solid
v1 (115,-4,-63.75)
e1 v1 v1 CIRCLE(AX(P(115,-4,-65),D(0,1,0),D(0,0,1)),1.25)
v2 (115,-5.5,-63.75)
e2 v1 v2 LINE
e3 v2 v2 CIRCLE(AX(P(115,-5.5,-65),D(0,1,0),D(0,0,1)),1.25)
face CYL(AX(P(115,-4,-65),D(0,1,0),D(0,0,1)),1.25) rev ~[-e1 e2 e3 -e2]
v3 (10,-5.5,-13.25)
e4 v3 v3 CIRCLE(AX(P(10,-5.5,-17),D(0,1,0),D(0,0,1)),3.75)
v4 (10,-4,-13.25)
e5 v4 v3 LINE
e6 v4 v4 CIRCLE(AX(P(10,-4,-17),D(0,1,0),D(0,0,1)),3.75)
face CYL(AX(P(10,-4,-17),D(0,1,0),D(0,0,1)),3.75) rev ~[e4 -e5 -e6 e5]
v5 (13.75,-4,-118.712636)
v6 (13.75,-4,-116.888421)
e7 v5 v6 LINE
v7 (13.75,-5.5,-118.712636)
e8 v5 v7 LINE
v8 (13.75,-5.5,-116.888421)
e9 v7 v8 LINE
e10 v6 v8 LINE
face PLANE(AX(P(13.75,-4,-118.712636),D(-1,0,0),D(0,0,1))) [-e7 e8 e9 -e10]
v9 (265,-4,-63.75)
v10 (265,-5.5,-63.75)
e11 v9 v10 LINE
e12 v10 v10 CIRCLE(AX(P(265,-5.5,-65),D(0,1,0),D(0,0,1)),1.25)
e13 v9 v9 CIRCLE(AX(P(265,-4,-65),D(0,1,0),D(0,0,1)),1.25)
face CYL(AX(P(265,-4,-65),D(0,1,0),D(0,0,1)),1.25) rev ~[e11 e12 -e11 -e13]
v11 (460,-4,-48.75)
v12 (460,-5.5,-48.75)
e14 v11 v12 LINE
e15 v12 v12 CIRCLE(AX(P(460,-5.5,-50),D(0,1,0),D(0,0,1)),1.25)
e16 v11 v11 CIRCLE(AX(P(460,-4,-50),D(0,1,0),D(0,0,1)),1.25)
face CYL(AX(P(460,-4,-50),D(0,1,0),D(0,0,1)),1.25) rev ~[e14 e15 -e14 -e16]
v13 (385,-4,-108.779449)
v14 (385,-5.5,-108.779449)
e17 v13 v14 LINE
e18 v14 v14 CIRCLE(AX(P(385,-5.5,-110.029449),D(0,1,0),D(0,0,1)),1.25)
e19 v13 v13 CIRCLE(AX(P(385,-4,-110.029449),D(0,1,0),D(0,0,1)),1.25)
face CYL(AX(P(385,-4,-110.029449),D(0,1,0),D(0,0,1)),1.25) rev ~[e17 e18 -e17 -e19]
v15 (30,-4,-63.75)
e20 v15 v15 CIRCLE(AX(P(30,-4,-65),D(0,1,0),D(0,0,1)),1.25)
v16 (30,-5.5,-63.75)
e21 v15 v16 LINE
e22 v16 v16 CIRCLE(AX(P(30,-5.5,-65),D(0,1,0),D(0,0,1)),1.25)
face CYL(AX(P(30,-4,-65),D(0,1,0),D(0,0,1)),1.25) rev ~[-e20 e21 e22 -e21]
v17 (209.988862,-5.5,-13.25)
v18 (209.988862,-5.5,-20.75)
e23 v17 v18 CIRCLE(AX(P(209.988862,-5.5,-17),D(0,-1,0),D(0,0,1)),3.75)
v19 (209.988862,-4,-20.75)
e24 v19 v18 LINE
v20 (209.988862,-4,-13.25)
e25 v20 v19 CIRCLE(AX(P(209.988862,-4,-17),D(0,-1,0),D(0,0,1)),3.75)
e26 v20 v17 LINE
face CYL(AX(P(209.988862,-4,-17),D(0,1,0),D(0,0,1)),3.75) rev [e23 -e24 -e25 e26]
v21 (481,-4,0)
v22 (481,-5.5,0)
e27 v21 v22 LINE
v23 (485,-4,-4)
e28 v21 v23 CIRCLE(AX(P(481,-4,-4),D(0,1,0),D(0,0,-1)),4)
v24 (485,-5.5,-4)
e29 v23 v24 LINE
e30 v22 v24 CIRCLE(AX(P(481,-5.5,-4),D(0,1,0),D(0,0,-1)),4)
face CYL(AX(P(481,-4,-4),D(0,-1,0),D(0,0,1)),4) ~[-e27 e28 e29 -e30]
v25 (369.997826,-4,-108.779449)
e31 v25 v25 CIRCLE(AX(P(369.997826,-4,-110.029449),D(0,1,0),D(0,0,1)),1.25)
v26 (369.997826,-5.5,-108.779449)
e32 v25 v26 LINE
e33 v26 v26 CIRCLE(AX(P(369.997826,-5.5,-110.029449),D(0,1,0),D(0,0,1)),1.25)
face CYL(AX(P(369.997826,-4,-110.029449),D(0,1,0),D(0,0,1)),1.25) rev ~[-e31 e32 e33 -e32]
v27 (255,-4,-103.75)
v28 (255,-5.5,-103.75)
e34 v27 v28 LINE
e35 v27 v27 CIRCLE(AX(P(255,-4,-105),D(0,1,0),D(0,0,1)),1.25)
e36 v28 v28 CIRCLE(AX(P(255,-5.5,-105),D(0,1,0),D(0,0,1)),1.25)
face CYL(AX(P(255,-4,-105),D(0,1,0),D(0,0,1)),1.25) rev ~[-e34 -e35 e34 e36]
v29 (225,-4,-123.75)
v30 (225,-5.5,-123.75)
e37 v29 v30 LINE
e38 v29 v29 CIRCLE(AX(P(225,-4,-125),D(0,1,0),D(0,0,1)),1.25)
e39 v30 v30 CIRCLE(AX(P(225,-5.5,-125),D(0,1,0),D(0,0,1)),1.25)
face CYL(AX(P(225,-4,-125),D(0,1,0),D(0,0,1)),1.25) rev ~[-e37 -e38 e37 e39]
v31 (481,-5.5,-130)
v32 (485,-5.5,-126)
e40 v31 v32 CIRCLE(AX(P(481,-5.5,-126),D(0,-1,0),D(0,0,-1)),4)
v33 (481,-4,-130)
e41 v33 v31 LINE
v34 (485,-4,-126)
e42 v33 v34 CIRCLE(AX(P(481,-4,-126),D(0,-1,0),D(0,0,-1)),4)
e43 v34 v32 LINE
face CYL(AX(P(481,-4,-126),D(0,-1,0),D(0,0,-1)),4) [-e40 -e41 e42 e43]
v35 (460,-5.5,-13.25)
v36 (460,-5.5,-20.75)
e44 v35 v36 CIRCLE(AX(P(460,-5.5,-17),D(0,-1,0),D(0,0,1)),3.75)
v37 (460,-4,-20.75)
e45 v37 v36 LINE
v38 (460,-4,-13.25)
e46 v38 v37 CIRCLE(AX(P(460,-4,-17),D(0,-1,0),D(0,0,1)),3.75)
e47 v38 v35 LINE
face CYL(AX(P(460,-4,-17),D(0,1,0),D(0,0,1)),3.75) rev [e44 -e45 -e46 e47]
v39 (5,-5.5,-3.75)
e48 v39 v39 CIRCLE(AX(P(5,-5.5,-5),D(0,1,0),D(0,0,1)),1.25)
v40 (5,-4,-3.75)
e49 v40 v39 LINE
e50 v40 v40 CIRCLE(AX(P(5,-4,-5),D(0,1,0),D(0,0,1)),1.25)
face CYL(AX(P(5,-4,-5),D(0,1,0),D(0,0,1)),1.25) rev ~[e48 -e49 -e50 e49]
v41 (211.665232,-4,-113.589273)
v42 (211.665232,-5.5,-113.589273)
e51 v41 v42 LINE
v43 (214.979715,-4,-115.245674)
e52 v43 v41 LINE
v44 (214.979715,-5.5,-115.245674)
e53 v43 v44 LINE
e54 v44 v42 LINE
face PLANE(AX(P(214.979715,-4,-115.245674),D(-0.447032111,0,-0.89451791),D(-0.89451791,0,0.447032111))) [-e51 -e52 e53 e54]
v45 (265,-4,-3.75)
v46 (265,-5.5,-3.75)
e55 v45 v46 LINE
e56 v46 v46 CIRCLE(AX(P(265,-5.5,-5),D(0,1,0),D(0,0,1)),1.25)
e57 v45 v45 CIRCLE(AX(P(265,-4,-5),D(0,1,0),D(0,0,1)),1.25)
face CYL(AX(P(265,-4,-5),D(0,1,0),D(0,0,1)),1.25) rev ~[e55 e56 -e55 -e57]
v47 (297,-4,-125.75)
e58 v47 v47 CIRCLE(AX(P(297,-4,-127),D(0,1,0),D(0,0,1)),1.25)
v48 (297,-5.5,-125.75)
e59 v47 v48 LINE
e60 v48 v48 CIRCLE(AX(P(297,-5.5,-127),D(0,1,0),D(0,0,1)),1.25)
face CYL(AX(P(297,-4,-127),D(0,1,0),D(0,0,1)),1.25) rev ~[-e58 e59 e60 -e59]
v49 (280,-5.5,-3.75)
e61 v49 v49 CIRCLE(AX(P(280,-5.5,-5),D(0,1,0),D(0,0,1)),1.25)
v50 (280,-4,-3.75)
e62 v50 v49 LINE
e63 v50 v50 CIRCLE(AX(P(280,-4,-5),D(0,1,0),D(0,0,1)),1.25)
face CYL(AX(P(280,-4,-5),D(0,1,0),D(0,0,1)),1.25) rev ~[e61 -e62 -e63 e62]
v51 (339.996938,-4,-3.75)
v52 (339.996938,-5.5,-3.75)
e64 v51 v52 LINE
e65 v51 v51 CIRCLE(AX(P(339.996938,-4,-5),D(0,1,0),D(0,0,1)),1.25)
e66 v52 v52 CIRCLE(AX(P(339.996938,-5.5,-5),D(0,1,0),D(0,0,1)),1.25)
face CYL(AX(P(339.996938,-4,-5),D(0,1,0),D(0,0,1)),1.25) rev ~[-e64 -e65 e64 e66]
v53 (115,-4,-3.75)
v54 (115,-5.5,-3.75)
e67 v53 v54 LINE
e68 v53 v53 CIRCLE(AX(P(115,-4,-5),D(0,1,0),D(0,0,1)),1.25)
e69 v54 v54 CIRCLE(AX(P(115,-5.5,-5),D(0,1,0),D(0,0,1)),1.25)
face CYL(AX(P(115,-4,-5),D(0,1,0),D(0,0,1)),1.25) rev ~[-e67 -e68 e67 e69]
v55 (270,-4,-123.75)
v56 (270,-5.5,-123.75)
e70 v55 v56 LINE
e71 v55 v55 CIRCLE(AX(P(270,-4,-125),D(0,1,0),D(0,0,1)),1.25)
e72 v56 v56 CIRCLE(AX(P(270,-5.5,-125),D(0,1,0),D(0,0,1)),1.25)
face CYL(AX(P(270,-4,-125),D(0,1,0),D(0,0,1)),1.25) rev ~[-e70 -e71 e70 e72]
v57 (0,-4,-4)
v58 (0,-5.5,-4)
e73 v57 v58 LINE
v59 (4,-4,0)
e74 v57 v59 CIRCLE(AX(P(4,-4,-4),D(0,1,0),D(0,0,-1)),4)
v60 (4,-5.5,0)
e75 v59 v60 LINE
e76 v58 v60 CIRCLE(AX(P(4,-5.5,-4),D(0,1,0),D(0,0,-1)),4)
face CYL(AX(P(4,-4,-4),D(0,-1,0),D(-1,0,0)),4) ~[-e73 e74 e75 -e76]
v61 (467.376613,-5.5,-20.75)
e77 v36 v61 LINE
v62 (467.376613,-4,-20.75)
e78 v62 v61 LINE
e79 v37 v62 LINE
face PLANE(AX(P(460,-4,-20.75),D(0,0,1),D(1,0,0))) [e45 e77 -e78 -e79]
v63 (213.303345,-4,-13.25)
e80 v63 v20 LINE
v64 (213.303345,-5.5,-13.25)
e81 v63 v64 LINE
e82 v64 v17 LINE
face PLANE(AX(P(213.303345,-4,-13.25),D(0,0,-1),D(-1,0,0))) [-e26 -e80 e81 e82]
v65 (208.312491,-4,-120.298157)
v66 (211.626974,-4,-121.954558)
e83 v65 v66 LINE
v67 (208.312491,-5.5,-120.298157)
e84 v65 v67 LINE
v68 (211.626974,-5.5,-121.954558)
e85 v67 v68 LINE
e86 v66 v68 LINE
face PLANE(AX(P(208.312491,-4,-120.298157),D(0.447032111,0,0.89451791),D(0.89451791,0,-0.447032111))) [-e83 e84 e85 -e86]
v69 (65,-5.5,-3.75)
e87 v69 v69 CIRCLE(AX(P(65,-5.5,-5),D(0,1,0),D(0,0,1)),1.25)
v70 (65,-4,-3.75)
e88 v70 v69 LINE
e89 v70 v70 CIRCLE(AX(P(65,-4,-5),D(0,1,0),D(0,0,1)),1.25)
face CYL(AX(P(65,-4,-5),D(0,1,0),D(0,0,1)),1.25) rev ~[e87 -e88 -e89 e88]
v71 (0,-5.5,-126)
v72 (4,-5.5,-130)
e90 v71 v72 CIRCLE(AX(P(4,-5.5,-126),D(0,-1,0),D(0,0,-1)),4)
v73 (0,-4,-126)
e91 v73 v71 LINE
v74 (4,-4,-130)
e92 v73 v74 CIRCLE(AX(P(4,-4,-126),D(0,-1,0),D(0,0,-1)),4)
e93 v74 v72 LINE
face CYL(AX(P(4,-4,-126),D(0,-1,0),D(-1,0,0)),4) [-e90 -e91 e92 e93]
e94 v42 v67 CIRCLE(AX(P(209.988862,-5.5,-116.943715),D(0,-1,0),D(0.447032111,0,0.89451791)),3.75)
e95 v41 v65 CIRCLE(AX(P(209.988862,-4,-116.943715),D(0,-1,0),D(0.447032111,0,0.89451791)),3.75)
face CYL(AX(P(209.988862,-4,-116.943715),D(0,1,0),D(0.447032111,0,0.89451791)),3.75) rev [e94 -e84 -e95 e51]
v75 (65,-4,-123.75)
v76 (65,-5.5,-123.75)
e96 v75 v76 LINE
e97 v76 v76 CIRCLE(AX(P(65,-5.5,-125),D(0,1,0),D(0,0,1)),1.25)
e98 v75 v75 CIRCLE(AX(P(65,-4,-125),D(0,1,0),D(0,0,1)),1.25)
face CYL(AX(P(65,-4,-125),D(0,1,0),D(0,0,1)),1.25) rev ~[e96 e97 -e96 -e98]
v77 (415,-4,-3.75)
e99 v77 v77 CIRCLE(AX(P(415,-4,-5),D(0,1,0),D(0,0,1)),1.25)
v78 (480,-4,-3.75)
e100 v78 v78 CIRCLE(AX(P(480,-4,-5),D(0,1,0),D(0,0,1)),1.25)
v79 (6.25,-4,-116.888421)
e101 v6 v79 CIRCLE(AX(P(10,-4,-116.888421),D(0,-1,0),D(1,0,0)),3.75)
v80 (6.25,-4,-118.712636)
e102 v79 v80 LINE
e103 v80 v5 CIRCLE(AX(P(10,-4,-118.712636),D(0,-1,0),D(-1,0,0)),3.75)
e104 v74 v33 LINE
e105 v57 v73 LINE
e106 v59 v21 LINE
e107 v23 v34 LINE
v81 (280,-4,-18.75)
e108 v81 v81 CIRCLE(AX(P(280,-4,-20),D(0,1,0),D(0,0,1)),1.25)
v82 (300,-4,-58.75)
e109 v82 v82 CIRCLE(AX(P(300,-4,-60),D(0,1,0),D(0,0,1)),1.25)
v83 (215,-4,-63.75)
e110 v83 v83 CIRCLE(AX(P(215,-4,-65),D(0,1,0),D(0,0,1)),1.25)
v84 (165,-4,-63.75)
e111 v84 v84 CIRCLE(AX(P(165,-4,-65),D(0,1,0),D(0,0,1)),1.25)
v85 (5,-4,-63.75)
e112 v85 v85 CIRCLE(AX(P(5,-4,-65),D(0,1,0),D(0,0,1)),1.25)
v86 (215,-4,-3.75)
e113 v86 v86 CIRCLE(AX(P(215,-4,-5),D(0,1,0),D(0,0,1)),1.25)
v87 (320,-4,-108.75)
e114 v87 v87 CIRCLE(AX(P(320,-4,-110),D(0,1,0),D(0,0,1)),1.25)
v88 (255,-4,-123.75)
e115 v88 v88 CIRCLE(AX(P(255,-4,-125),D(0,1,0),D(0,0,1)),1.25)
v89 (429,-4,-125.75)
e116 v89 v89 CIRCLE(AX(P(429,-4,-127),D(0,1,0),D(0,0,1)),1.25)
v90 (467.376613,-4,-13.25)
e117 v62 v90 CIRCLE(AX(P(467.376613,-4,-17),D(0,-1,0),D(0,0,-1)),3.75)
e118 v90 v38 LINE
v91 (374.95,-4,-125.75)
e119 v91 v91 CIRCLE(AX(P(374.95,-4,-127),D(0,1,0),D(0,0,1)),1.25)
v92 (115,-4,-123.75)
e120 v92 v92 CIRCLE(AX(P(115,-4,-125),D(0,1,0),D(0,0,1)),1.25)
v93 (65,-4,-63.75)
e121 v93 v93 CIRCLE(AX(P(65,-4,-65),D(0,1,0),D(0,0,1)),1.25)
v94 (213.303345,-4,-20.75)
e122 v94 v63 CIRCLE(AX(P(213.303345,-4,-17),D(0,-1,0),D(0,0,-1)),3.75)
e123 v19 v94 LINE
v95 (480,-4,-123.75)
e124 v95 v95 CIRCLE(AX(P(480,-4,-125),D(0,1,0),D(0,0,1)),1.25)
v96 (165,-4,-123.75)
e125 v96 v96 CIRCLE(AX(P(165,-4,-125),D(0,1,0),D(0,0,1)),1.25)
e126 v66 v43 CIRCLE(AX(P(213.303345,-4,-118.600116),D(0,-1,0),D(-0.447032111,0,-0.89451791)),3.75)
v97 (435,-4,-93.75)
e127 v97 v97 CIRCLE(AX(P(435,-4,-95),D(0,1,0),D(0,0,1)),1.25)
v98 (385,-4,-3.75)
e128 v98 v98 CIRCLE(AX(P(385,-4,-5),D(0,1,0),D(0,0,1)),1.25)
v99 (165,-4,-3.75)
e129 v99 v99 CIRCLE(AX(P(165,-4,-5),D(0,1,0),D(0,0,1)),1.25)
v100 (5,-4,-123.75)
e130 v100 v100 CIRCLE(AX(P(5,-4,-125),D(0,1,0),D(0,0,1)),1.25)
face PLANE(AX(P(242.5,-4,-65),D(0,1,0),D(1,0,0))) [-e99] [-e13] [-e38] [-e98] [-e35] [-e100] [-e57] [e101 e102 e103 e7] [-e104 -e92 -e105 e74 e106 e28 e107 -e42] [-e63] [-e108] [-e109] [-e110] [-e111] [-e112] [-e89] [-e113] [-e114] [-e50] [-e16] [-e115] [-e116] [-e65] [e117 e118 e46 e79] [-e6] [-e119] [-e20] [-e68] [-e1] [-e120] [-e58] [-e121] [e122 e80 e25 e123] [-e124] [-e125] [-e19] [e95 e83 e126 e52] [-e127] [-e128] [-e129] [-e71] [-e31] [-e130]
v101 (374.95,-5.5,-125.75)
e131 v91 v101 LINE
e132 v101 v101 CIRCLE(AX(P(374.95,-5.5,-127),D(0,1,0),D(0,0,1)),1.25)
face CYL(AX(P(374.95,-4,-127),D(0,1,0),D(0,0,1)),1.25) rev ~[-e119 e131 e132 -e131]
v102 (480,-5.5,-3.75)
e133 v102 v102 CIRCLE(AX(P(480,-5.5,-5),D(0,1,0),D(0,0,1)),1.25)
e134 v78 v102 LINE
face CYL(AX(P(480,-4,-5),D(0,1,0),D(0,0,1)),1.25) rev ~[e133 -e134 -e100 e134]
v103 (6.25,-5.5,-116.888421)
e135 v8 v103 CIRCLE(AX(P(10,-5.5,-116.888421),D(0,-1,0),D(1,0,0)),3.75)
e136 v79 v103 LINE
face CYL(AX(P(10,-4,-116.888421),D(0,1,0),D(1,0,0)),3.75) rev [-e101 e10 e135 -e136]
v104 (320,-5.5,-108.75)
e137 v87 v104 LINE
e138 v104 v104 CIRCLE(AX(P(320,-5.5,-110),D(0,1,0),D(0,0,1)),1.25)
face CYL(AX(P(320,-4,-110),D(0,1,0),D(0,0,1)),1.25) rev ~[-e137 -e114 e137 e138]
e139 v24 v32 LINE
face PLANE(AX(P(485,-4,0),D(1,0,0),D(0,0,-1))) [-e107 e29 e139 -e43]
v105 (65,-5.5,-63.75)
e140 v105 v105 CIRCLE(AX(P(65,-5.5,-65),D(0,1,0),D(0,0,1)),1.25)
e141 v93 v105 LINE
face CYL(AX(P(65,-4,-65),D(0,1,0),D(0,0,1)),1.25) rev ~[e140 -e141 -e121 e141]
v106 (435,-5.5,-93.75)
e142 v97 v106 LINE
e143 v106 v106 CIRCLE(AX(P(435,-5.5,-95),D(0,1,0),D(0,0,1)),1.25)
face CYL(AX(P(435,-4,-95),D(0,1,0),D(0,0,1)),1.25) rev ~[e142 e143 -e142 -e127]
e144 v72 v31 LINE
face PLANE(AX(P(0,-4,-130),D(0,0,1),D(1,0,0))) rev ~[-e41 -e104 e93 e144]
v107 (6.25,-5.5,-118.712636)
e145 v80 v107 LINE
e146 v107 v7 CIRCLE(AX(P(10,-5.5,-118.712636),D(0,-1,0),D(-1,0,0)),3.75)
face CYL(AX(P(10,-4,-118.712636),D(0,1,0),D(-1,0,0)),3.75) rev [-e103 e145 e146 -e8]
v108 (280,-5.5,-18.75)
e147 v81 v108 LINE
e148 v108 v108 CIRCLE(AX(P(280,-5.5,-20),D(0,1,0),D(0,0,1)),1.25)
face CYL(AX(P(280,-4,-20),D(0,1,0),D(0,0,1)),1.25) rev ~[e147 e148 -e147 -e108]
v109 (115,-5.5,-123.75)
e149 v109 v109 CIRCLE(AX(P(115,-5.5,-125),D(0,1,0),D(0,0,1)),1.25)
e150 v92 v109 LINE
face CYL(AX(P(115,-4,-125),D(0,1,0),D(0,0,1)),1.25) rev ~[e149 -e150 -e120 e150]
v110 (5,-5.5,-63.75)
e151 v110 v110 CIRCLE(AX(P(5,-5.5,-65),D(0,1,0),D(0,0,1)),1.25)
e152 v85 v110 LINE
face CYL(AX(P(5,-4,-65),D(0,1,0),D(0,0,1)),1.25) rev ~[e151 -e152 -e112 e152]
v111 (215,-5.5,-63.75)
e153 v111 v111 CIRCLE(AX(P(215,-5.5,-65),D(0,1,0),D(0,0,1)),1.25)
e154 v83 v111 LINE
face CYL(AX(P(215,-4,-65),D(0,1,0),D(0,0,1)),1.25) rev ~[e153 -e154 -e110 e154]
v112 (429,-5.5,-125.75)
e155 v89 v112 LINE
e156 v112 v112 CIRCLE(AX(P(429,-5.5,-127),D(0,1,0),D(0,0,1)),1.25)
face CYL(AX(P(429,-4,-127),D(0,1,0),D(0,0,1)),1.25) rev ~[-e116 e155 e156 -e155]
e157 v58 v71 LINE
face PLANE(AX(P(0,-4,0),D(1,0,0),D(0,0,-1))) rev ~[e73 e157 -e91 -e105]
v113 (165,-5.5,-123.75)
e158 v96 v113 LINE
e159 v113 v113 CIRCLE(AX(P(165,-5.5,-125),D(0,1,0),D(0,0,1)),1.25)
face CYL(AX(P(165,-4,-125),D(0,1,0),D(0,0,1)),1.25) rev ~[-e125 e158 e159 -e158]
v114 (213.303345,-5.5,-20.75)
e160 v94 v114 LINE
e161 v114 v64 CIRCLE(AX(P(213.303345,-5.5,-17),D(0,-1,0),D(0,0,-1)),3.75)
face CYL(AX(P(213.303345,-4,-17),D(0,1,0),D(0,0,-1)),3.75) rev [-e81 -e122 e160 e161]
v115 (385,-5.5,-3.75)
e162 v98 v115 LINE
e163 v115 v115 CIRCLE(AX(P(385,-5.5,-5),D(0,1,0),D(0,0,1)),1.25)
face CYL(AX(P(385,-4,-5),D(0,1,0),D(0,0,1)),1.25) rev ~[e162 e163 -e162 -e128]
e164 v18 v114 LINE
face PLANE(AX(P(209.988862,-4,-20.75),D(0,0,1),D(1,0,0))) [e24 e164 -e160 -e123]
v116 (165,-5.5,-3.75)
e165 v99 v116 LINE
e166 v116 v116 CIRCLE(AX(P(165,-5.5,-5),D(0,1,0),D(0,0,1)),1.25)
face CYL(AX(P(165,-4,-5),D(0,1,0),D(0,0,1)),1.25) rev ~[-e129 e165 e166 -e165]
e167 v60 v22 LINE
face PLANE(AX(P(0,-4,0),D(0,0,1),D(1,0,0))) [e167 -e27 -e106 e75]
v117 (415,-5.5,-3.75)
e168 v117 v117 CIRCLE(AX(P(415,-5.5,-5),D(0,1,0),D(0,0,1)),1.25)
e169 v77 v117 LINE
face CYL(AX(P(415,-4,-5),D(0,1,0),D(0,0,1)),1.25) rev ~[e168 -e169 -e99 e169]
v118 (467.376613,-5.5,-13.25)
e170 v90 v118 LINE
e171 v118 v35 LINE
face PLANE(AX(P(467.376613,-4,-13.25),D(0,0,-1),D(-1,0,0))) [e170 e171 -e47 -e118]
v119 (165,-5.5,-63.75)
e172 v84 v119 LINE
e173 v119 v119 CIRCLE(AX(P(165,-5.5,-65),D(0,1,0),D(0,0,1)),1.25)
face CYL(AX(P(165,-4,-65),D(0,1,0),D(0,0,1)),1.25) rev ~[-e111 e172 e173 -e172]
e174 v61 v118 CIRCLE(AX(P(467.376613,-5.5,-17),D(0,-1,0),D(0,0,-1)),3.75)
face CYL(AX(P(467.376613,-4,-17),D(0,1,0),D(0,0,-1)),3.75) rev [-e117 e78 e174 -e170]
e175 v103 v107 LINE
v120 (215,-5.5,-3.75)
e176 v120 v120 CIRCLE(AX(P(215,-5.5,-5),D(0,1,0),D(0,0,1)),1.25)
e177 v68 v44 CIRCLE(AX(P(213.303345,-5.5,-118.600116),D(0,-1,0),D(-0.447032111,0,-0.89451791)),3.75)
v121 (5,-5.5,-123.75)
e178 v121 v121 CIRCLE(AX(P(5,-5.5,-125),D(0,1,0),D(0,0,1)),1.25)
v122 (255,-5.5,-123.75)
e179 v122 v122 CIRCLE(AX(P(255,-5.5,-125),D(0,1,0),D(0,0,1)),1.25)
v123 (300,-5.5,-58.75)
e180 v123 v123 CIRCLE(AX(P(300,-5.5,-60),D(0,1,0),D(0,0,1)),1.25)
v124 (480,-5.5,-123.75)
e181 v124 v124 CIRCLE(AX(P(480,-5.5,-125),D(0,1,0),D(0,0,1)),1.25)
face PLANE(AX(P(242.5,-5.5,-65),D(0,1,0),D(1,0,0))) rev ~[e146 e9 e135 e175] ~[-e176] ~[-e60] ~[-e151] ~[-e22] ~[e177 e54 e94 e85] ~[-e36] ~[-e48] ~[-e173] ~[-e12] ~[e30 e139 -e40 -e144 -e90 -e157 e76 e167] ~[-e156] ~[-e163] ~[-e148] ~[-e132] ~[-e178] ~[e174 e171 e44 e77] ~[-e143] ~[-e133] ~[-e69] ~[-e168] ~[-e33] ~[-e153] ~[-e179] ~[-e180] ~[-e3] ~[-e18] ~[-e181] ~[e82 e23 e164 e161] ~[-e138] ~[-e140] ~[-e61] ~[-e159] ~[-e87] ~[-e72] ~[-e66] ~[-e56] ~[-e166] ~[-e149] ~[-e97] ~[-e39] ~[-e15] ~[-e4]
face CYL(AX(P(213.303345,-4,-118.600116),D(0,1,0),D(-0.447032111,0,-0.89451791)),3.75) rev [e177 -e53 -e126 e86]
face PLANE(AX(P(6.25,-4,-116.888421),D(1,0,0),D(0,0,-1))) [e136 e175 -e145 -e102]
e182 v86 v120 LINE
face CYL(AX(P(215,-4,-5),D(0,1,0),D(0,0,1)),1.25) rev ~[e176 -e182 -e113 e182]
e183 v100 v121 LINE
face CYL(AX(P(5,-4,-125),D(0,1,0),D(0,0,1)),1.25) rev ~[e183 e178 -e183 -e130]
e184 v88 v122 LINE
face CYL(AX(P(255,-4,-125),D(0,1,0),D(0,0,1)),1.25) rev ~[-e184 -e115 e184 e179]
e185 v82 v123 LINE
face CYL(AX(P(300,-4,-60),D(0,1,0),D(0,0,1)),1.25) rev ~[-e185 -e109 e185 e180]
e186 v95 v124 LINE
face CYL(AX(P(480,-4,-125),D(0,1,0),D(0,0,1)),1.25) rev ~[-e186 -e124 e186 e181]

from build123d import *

# Parameters (mm, degrees)
BOSS_EXTRUDE1_START = -4
SKETCH1_W           = 485
SKETCH1_H           = 130
SKETCH1_R           = 1.25
SKETCH1_R_2         = 3.75
BOSS_EXTRUDE1_DEPTH = 1.5
FILLET1_R           = 4


with BuildPart() as part:
    # Sketch1 → Boss-Extrude1 (new body)
    with BuildSketch(Plane(origin=(0, 0, 0), x_dir=(1, 0, 0), z_dir=(0, 1, 0)).offset(BOSS_EXTRUDE1_START)):
        with Locations((242.5, 65)):
            Rectangle(SKETCH1_W, SKETCH1_H)
        with Locations(Location((5, 125, 0), (0, 0, 270))):
            Circle(SKETCH1_R, mode=Mode.SUBTRACT)
        with Locations(Location((65, 125, 0), (0, 0, 270))):
            Circle(SKETCH1_R, mode=Mode.SUBTRACT)
        with Locations(Location((5, 65, 0), (0, 0, 270))):
            Circle(SKETCH1_R, mode=Mode.SUBTRACT)
        with Locations(Location((30, 65, 0), (0, 0, 270))):
            Circle(SKETCH1_R, mode=Mode.SUBTRACT)
        with Locations(Location((65, 65, 0), (0, 0, 270))):
            Circle(SKETCH1_R, mode=Mode.SUBTRACT)
        with Locations(Location((115, 125, 0), (0, 0, 270))):
            Circle(SKETCH1_R, mode=Mode.SUBTRACT)
        with Locations(Location((115, 65, 0), (0, 0, 270))):
            Circle(SKETCH1_R, mode=Mode.SUBTRACT)
        with Locations(Location((5, 5, 0), (0, 0, 270))):
            Circle(SKETCH1_R, mode=Mode.SUBTRACT)
        with Locations(Location((65, 5, 0), (0, 0, 270))):
            Circle(SKETCH1_R, mode=Mode.SUBTRACT)
        with Locations(Location((115, 5, 0), (0, 0, 270))):
            Circle(SKETCH1_R, mode=Mode.SUBTRACT)
        with Locations(Location((165, 5, 0), (0, 0, 270))):
            Circle(SKETCH1_R, mode=Mode.SUBTRACT)
        with Locations(Location((215, 5, 0), (0, 0, 270))):
            Circle(SKETCH1_R, mode=Mode.SUBTRACT)
        with Locations(Location((265, 5, 0), (0, 0, 270))):
            Circle(SKETCH1_R, mode=Mode.SUBTRACT)
        with Locations(Location((280, 5, 0), (0, 0, 270))):
            Circle(SKETCH1_R, mode=Mode.SUBTRACT)
        with Locations(Location((280, 20, 0), (0, 0, 270))):
            Circle(SKETCH1_R, mode=Mode.SUBTRACT)
        with Locations(Location((415, 5, 0), (0, 0, 270))):
            Circle(SKETCH1_R, mode=Mode.SUBTRACT)
        with Locations(Location((385, 5, 0), (0, 0, 270))):
            Circle(SKETCH1_R, mode=Mode.SUBTRACT)
        with Locations(Location((339.996937627, 5, 0), (0, 0, 270))):
            Circle(SKETCH1_R, mode=Mode.SUBTRACT)
        with Locations(Location((480, 5, 0), (0, 0, 270))):
            Circle(SKETCH1_R, mode=Mode.SUBTRACT)
        with Locations(Location((460, 50, 0), (0, 0, 270))):
            Circle(SKETCH1_R, mode=Mode.SUBTRACT)
        with Locations(Location((435, 95, 0), (0, 0, 270))):
            Circle(SKETCH1_R, mode=Mode.SUBTRACT)
        with Locations(Location((369.997825764, 110.029448802, 0), (0, 0, 270))):
            Circle(SKETCH1_R, mode=Mode.SUBTRACT)
        with Locations(Location((385, 110.029448802, 0), (0, 0, 270))):
            Circle(SKETCH1_R, mode=Mode.SUBTRACT)
        with Locations(Location((480, 125, 0), (0, 0, 270))):
            Circle(SKETCH1_R, mode=Mode.SUBTRACT)
        with Locations(Location((429, 127, 0), (0, 0, 270))):
            Circle(SKETCH1_R, mode=Mode.SUBTRACT)
        with Locations(Location((374.95, 127, 0), (0, 0, 270))):
            Circle(SKETCH1_R, mode=Mode.SUBTRACT)
        with Locations(Location((300, 60, 0), (0, 0, 270))):
            Circle(SKETCH1_R, mode=Mode.SUBTRACT)
        with Locations(Location((265, 65, 0), (0, 0, 270))):
            Circle(SKETCH1_R, mode=Mode.SUBTRACT)
        with Locations(Location((255, 105, 0), (0, 0, 270))):
            Circle(SKETCH1_R, mode=Mode.SUBTRACT)
        with Locations(Location((320, 110, 0), (0, 0, 270))):
            Circle(SKETCH1_R, mode=Mode.SUBTRACT)
        with Locations(Location((297, 127, 0), (0, 0, 270))):
            Circle(SKETCH1_R, mode=Mode.SUBTRACT)
        with Locations(Location((270, 125, 0), (0, 0, 270))):
            Circle(SKETCH1_R, mode=Mode.SUBTRACT)
        with Locations(Location((255, 125, 0), (0, 0, 270))):
            Circle(SKETCH1_R, mode=Mode.SUBTRACT)
        with Locations(Location((215, 65, 0), (0, 0, 270))):
            Circle(SKETCH1_R, mode=Mode.SUBTRACT)
        with Locations(Location((165, 65, 0), (0, 0, 270))):
            Circle(SKETCH1_R, mode=Mode.SUBTRACT)
        with Locations(Location((165, 125, 0), (0, 0, 270))):
            Circle(SKETCH1_R, mode=Mode.SUBTRACT)
        with Locations(Location((10, 17, 0), (0, 0, 270))):
            Circle(SKETCH1_R_2, mode=Mode.SUBTRACT)
        with Locations(Location((225, 125, 0), (0, 0, 270))):
            Circle(SKETCH1_R, mode=Mode.SUBTRACT)
        with BuildLine():
            Line((13.75, 118.712635694), (13.75, 116.888420957))
            ThreePointArc((13.75, 116.888420957), (10, 113.138420957), (6.25, 116.888420957))
            Line((6.25, 116.888420957), (6.25, 118.712635694))
            ThreePointArc((6.25, 118.712635694), (10, 122.462635694), (13.75, 118.712635694))
        make_face(mode=Mode.SUBTRACT)
        with BuildLine():
            Line((214.979714971, 115.245673576), (211.665232202, 113.589272725))
            ThreePointArc((211.665232202, 113.589272725), (206.634419623, 115.267344473), (208.312491372, 120.298157053))
            Line((208.312491372, 120.298157053), (211.626974141, 121.954557904))
            ThreePointArc((211.626974141, 121.954557904), (216.65778672, 120.276486155), (214.979714971, 115.245673576))
        make_face(mode=Mode.SUBTRACT)
        with BuildLine():
            Line((209.988861787, 20.75), (213.303344556, 20.75))
            ThreePointArc((213.303344556, 20.75), (217.053344556, 17), (213.303344556, 13.25))
            Line((213.303344556, 13.25), (209.988861787, 13.25))
            ThreePointArc((209.988861787, 13.25), (206.238861787, 17), (209.988861787, 20.75))
        make_face(mode=Mode.SUBTRACT)
        with BuildLine():
            Line((467.376612972, 13.25), (460, 13.25))
            ThreePointArc((460, 13.25), (456.25, 17), (460, 20.75))
            Line((460, 20.75), (467.376612972, 20.75))
            ThreePointArc((467.376612972, 20.75), (471.126612972, 17), (467.376612972, 13.25))
        make_face(mode=Mode.SUBTRACT)
    extrude(amount=-BOSS_EXTRUDE1_DEPTH)

    # Fillet1
    fillet1_edges = [part.edges().sort_by_distance(p)[0] for p in [
        (485, -4.75, 0),
        (0, -4.75, 0),
        (0, -4.75, -130),
        (485, -4.75, -130),
    ]]
    fillet(fillet1_edges, radius=FILLET1_R)


solid = part.part
